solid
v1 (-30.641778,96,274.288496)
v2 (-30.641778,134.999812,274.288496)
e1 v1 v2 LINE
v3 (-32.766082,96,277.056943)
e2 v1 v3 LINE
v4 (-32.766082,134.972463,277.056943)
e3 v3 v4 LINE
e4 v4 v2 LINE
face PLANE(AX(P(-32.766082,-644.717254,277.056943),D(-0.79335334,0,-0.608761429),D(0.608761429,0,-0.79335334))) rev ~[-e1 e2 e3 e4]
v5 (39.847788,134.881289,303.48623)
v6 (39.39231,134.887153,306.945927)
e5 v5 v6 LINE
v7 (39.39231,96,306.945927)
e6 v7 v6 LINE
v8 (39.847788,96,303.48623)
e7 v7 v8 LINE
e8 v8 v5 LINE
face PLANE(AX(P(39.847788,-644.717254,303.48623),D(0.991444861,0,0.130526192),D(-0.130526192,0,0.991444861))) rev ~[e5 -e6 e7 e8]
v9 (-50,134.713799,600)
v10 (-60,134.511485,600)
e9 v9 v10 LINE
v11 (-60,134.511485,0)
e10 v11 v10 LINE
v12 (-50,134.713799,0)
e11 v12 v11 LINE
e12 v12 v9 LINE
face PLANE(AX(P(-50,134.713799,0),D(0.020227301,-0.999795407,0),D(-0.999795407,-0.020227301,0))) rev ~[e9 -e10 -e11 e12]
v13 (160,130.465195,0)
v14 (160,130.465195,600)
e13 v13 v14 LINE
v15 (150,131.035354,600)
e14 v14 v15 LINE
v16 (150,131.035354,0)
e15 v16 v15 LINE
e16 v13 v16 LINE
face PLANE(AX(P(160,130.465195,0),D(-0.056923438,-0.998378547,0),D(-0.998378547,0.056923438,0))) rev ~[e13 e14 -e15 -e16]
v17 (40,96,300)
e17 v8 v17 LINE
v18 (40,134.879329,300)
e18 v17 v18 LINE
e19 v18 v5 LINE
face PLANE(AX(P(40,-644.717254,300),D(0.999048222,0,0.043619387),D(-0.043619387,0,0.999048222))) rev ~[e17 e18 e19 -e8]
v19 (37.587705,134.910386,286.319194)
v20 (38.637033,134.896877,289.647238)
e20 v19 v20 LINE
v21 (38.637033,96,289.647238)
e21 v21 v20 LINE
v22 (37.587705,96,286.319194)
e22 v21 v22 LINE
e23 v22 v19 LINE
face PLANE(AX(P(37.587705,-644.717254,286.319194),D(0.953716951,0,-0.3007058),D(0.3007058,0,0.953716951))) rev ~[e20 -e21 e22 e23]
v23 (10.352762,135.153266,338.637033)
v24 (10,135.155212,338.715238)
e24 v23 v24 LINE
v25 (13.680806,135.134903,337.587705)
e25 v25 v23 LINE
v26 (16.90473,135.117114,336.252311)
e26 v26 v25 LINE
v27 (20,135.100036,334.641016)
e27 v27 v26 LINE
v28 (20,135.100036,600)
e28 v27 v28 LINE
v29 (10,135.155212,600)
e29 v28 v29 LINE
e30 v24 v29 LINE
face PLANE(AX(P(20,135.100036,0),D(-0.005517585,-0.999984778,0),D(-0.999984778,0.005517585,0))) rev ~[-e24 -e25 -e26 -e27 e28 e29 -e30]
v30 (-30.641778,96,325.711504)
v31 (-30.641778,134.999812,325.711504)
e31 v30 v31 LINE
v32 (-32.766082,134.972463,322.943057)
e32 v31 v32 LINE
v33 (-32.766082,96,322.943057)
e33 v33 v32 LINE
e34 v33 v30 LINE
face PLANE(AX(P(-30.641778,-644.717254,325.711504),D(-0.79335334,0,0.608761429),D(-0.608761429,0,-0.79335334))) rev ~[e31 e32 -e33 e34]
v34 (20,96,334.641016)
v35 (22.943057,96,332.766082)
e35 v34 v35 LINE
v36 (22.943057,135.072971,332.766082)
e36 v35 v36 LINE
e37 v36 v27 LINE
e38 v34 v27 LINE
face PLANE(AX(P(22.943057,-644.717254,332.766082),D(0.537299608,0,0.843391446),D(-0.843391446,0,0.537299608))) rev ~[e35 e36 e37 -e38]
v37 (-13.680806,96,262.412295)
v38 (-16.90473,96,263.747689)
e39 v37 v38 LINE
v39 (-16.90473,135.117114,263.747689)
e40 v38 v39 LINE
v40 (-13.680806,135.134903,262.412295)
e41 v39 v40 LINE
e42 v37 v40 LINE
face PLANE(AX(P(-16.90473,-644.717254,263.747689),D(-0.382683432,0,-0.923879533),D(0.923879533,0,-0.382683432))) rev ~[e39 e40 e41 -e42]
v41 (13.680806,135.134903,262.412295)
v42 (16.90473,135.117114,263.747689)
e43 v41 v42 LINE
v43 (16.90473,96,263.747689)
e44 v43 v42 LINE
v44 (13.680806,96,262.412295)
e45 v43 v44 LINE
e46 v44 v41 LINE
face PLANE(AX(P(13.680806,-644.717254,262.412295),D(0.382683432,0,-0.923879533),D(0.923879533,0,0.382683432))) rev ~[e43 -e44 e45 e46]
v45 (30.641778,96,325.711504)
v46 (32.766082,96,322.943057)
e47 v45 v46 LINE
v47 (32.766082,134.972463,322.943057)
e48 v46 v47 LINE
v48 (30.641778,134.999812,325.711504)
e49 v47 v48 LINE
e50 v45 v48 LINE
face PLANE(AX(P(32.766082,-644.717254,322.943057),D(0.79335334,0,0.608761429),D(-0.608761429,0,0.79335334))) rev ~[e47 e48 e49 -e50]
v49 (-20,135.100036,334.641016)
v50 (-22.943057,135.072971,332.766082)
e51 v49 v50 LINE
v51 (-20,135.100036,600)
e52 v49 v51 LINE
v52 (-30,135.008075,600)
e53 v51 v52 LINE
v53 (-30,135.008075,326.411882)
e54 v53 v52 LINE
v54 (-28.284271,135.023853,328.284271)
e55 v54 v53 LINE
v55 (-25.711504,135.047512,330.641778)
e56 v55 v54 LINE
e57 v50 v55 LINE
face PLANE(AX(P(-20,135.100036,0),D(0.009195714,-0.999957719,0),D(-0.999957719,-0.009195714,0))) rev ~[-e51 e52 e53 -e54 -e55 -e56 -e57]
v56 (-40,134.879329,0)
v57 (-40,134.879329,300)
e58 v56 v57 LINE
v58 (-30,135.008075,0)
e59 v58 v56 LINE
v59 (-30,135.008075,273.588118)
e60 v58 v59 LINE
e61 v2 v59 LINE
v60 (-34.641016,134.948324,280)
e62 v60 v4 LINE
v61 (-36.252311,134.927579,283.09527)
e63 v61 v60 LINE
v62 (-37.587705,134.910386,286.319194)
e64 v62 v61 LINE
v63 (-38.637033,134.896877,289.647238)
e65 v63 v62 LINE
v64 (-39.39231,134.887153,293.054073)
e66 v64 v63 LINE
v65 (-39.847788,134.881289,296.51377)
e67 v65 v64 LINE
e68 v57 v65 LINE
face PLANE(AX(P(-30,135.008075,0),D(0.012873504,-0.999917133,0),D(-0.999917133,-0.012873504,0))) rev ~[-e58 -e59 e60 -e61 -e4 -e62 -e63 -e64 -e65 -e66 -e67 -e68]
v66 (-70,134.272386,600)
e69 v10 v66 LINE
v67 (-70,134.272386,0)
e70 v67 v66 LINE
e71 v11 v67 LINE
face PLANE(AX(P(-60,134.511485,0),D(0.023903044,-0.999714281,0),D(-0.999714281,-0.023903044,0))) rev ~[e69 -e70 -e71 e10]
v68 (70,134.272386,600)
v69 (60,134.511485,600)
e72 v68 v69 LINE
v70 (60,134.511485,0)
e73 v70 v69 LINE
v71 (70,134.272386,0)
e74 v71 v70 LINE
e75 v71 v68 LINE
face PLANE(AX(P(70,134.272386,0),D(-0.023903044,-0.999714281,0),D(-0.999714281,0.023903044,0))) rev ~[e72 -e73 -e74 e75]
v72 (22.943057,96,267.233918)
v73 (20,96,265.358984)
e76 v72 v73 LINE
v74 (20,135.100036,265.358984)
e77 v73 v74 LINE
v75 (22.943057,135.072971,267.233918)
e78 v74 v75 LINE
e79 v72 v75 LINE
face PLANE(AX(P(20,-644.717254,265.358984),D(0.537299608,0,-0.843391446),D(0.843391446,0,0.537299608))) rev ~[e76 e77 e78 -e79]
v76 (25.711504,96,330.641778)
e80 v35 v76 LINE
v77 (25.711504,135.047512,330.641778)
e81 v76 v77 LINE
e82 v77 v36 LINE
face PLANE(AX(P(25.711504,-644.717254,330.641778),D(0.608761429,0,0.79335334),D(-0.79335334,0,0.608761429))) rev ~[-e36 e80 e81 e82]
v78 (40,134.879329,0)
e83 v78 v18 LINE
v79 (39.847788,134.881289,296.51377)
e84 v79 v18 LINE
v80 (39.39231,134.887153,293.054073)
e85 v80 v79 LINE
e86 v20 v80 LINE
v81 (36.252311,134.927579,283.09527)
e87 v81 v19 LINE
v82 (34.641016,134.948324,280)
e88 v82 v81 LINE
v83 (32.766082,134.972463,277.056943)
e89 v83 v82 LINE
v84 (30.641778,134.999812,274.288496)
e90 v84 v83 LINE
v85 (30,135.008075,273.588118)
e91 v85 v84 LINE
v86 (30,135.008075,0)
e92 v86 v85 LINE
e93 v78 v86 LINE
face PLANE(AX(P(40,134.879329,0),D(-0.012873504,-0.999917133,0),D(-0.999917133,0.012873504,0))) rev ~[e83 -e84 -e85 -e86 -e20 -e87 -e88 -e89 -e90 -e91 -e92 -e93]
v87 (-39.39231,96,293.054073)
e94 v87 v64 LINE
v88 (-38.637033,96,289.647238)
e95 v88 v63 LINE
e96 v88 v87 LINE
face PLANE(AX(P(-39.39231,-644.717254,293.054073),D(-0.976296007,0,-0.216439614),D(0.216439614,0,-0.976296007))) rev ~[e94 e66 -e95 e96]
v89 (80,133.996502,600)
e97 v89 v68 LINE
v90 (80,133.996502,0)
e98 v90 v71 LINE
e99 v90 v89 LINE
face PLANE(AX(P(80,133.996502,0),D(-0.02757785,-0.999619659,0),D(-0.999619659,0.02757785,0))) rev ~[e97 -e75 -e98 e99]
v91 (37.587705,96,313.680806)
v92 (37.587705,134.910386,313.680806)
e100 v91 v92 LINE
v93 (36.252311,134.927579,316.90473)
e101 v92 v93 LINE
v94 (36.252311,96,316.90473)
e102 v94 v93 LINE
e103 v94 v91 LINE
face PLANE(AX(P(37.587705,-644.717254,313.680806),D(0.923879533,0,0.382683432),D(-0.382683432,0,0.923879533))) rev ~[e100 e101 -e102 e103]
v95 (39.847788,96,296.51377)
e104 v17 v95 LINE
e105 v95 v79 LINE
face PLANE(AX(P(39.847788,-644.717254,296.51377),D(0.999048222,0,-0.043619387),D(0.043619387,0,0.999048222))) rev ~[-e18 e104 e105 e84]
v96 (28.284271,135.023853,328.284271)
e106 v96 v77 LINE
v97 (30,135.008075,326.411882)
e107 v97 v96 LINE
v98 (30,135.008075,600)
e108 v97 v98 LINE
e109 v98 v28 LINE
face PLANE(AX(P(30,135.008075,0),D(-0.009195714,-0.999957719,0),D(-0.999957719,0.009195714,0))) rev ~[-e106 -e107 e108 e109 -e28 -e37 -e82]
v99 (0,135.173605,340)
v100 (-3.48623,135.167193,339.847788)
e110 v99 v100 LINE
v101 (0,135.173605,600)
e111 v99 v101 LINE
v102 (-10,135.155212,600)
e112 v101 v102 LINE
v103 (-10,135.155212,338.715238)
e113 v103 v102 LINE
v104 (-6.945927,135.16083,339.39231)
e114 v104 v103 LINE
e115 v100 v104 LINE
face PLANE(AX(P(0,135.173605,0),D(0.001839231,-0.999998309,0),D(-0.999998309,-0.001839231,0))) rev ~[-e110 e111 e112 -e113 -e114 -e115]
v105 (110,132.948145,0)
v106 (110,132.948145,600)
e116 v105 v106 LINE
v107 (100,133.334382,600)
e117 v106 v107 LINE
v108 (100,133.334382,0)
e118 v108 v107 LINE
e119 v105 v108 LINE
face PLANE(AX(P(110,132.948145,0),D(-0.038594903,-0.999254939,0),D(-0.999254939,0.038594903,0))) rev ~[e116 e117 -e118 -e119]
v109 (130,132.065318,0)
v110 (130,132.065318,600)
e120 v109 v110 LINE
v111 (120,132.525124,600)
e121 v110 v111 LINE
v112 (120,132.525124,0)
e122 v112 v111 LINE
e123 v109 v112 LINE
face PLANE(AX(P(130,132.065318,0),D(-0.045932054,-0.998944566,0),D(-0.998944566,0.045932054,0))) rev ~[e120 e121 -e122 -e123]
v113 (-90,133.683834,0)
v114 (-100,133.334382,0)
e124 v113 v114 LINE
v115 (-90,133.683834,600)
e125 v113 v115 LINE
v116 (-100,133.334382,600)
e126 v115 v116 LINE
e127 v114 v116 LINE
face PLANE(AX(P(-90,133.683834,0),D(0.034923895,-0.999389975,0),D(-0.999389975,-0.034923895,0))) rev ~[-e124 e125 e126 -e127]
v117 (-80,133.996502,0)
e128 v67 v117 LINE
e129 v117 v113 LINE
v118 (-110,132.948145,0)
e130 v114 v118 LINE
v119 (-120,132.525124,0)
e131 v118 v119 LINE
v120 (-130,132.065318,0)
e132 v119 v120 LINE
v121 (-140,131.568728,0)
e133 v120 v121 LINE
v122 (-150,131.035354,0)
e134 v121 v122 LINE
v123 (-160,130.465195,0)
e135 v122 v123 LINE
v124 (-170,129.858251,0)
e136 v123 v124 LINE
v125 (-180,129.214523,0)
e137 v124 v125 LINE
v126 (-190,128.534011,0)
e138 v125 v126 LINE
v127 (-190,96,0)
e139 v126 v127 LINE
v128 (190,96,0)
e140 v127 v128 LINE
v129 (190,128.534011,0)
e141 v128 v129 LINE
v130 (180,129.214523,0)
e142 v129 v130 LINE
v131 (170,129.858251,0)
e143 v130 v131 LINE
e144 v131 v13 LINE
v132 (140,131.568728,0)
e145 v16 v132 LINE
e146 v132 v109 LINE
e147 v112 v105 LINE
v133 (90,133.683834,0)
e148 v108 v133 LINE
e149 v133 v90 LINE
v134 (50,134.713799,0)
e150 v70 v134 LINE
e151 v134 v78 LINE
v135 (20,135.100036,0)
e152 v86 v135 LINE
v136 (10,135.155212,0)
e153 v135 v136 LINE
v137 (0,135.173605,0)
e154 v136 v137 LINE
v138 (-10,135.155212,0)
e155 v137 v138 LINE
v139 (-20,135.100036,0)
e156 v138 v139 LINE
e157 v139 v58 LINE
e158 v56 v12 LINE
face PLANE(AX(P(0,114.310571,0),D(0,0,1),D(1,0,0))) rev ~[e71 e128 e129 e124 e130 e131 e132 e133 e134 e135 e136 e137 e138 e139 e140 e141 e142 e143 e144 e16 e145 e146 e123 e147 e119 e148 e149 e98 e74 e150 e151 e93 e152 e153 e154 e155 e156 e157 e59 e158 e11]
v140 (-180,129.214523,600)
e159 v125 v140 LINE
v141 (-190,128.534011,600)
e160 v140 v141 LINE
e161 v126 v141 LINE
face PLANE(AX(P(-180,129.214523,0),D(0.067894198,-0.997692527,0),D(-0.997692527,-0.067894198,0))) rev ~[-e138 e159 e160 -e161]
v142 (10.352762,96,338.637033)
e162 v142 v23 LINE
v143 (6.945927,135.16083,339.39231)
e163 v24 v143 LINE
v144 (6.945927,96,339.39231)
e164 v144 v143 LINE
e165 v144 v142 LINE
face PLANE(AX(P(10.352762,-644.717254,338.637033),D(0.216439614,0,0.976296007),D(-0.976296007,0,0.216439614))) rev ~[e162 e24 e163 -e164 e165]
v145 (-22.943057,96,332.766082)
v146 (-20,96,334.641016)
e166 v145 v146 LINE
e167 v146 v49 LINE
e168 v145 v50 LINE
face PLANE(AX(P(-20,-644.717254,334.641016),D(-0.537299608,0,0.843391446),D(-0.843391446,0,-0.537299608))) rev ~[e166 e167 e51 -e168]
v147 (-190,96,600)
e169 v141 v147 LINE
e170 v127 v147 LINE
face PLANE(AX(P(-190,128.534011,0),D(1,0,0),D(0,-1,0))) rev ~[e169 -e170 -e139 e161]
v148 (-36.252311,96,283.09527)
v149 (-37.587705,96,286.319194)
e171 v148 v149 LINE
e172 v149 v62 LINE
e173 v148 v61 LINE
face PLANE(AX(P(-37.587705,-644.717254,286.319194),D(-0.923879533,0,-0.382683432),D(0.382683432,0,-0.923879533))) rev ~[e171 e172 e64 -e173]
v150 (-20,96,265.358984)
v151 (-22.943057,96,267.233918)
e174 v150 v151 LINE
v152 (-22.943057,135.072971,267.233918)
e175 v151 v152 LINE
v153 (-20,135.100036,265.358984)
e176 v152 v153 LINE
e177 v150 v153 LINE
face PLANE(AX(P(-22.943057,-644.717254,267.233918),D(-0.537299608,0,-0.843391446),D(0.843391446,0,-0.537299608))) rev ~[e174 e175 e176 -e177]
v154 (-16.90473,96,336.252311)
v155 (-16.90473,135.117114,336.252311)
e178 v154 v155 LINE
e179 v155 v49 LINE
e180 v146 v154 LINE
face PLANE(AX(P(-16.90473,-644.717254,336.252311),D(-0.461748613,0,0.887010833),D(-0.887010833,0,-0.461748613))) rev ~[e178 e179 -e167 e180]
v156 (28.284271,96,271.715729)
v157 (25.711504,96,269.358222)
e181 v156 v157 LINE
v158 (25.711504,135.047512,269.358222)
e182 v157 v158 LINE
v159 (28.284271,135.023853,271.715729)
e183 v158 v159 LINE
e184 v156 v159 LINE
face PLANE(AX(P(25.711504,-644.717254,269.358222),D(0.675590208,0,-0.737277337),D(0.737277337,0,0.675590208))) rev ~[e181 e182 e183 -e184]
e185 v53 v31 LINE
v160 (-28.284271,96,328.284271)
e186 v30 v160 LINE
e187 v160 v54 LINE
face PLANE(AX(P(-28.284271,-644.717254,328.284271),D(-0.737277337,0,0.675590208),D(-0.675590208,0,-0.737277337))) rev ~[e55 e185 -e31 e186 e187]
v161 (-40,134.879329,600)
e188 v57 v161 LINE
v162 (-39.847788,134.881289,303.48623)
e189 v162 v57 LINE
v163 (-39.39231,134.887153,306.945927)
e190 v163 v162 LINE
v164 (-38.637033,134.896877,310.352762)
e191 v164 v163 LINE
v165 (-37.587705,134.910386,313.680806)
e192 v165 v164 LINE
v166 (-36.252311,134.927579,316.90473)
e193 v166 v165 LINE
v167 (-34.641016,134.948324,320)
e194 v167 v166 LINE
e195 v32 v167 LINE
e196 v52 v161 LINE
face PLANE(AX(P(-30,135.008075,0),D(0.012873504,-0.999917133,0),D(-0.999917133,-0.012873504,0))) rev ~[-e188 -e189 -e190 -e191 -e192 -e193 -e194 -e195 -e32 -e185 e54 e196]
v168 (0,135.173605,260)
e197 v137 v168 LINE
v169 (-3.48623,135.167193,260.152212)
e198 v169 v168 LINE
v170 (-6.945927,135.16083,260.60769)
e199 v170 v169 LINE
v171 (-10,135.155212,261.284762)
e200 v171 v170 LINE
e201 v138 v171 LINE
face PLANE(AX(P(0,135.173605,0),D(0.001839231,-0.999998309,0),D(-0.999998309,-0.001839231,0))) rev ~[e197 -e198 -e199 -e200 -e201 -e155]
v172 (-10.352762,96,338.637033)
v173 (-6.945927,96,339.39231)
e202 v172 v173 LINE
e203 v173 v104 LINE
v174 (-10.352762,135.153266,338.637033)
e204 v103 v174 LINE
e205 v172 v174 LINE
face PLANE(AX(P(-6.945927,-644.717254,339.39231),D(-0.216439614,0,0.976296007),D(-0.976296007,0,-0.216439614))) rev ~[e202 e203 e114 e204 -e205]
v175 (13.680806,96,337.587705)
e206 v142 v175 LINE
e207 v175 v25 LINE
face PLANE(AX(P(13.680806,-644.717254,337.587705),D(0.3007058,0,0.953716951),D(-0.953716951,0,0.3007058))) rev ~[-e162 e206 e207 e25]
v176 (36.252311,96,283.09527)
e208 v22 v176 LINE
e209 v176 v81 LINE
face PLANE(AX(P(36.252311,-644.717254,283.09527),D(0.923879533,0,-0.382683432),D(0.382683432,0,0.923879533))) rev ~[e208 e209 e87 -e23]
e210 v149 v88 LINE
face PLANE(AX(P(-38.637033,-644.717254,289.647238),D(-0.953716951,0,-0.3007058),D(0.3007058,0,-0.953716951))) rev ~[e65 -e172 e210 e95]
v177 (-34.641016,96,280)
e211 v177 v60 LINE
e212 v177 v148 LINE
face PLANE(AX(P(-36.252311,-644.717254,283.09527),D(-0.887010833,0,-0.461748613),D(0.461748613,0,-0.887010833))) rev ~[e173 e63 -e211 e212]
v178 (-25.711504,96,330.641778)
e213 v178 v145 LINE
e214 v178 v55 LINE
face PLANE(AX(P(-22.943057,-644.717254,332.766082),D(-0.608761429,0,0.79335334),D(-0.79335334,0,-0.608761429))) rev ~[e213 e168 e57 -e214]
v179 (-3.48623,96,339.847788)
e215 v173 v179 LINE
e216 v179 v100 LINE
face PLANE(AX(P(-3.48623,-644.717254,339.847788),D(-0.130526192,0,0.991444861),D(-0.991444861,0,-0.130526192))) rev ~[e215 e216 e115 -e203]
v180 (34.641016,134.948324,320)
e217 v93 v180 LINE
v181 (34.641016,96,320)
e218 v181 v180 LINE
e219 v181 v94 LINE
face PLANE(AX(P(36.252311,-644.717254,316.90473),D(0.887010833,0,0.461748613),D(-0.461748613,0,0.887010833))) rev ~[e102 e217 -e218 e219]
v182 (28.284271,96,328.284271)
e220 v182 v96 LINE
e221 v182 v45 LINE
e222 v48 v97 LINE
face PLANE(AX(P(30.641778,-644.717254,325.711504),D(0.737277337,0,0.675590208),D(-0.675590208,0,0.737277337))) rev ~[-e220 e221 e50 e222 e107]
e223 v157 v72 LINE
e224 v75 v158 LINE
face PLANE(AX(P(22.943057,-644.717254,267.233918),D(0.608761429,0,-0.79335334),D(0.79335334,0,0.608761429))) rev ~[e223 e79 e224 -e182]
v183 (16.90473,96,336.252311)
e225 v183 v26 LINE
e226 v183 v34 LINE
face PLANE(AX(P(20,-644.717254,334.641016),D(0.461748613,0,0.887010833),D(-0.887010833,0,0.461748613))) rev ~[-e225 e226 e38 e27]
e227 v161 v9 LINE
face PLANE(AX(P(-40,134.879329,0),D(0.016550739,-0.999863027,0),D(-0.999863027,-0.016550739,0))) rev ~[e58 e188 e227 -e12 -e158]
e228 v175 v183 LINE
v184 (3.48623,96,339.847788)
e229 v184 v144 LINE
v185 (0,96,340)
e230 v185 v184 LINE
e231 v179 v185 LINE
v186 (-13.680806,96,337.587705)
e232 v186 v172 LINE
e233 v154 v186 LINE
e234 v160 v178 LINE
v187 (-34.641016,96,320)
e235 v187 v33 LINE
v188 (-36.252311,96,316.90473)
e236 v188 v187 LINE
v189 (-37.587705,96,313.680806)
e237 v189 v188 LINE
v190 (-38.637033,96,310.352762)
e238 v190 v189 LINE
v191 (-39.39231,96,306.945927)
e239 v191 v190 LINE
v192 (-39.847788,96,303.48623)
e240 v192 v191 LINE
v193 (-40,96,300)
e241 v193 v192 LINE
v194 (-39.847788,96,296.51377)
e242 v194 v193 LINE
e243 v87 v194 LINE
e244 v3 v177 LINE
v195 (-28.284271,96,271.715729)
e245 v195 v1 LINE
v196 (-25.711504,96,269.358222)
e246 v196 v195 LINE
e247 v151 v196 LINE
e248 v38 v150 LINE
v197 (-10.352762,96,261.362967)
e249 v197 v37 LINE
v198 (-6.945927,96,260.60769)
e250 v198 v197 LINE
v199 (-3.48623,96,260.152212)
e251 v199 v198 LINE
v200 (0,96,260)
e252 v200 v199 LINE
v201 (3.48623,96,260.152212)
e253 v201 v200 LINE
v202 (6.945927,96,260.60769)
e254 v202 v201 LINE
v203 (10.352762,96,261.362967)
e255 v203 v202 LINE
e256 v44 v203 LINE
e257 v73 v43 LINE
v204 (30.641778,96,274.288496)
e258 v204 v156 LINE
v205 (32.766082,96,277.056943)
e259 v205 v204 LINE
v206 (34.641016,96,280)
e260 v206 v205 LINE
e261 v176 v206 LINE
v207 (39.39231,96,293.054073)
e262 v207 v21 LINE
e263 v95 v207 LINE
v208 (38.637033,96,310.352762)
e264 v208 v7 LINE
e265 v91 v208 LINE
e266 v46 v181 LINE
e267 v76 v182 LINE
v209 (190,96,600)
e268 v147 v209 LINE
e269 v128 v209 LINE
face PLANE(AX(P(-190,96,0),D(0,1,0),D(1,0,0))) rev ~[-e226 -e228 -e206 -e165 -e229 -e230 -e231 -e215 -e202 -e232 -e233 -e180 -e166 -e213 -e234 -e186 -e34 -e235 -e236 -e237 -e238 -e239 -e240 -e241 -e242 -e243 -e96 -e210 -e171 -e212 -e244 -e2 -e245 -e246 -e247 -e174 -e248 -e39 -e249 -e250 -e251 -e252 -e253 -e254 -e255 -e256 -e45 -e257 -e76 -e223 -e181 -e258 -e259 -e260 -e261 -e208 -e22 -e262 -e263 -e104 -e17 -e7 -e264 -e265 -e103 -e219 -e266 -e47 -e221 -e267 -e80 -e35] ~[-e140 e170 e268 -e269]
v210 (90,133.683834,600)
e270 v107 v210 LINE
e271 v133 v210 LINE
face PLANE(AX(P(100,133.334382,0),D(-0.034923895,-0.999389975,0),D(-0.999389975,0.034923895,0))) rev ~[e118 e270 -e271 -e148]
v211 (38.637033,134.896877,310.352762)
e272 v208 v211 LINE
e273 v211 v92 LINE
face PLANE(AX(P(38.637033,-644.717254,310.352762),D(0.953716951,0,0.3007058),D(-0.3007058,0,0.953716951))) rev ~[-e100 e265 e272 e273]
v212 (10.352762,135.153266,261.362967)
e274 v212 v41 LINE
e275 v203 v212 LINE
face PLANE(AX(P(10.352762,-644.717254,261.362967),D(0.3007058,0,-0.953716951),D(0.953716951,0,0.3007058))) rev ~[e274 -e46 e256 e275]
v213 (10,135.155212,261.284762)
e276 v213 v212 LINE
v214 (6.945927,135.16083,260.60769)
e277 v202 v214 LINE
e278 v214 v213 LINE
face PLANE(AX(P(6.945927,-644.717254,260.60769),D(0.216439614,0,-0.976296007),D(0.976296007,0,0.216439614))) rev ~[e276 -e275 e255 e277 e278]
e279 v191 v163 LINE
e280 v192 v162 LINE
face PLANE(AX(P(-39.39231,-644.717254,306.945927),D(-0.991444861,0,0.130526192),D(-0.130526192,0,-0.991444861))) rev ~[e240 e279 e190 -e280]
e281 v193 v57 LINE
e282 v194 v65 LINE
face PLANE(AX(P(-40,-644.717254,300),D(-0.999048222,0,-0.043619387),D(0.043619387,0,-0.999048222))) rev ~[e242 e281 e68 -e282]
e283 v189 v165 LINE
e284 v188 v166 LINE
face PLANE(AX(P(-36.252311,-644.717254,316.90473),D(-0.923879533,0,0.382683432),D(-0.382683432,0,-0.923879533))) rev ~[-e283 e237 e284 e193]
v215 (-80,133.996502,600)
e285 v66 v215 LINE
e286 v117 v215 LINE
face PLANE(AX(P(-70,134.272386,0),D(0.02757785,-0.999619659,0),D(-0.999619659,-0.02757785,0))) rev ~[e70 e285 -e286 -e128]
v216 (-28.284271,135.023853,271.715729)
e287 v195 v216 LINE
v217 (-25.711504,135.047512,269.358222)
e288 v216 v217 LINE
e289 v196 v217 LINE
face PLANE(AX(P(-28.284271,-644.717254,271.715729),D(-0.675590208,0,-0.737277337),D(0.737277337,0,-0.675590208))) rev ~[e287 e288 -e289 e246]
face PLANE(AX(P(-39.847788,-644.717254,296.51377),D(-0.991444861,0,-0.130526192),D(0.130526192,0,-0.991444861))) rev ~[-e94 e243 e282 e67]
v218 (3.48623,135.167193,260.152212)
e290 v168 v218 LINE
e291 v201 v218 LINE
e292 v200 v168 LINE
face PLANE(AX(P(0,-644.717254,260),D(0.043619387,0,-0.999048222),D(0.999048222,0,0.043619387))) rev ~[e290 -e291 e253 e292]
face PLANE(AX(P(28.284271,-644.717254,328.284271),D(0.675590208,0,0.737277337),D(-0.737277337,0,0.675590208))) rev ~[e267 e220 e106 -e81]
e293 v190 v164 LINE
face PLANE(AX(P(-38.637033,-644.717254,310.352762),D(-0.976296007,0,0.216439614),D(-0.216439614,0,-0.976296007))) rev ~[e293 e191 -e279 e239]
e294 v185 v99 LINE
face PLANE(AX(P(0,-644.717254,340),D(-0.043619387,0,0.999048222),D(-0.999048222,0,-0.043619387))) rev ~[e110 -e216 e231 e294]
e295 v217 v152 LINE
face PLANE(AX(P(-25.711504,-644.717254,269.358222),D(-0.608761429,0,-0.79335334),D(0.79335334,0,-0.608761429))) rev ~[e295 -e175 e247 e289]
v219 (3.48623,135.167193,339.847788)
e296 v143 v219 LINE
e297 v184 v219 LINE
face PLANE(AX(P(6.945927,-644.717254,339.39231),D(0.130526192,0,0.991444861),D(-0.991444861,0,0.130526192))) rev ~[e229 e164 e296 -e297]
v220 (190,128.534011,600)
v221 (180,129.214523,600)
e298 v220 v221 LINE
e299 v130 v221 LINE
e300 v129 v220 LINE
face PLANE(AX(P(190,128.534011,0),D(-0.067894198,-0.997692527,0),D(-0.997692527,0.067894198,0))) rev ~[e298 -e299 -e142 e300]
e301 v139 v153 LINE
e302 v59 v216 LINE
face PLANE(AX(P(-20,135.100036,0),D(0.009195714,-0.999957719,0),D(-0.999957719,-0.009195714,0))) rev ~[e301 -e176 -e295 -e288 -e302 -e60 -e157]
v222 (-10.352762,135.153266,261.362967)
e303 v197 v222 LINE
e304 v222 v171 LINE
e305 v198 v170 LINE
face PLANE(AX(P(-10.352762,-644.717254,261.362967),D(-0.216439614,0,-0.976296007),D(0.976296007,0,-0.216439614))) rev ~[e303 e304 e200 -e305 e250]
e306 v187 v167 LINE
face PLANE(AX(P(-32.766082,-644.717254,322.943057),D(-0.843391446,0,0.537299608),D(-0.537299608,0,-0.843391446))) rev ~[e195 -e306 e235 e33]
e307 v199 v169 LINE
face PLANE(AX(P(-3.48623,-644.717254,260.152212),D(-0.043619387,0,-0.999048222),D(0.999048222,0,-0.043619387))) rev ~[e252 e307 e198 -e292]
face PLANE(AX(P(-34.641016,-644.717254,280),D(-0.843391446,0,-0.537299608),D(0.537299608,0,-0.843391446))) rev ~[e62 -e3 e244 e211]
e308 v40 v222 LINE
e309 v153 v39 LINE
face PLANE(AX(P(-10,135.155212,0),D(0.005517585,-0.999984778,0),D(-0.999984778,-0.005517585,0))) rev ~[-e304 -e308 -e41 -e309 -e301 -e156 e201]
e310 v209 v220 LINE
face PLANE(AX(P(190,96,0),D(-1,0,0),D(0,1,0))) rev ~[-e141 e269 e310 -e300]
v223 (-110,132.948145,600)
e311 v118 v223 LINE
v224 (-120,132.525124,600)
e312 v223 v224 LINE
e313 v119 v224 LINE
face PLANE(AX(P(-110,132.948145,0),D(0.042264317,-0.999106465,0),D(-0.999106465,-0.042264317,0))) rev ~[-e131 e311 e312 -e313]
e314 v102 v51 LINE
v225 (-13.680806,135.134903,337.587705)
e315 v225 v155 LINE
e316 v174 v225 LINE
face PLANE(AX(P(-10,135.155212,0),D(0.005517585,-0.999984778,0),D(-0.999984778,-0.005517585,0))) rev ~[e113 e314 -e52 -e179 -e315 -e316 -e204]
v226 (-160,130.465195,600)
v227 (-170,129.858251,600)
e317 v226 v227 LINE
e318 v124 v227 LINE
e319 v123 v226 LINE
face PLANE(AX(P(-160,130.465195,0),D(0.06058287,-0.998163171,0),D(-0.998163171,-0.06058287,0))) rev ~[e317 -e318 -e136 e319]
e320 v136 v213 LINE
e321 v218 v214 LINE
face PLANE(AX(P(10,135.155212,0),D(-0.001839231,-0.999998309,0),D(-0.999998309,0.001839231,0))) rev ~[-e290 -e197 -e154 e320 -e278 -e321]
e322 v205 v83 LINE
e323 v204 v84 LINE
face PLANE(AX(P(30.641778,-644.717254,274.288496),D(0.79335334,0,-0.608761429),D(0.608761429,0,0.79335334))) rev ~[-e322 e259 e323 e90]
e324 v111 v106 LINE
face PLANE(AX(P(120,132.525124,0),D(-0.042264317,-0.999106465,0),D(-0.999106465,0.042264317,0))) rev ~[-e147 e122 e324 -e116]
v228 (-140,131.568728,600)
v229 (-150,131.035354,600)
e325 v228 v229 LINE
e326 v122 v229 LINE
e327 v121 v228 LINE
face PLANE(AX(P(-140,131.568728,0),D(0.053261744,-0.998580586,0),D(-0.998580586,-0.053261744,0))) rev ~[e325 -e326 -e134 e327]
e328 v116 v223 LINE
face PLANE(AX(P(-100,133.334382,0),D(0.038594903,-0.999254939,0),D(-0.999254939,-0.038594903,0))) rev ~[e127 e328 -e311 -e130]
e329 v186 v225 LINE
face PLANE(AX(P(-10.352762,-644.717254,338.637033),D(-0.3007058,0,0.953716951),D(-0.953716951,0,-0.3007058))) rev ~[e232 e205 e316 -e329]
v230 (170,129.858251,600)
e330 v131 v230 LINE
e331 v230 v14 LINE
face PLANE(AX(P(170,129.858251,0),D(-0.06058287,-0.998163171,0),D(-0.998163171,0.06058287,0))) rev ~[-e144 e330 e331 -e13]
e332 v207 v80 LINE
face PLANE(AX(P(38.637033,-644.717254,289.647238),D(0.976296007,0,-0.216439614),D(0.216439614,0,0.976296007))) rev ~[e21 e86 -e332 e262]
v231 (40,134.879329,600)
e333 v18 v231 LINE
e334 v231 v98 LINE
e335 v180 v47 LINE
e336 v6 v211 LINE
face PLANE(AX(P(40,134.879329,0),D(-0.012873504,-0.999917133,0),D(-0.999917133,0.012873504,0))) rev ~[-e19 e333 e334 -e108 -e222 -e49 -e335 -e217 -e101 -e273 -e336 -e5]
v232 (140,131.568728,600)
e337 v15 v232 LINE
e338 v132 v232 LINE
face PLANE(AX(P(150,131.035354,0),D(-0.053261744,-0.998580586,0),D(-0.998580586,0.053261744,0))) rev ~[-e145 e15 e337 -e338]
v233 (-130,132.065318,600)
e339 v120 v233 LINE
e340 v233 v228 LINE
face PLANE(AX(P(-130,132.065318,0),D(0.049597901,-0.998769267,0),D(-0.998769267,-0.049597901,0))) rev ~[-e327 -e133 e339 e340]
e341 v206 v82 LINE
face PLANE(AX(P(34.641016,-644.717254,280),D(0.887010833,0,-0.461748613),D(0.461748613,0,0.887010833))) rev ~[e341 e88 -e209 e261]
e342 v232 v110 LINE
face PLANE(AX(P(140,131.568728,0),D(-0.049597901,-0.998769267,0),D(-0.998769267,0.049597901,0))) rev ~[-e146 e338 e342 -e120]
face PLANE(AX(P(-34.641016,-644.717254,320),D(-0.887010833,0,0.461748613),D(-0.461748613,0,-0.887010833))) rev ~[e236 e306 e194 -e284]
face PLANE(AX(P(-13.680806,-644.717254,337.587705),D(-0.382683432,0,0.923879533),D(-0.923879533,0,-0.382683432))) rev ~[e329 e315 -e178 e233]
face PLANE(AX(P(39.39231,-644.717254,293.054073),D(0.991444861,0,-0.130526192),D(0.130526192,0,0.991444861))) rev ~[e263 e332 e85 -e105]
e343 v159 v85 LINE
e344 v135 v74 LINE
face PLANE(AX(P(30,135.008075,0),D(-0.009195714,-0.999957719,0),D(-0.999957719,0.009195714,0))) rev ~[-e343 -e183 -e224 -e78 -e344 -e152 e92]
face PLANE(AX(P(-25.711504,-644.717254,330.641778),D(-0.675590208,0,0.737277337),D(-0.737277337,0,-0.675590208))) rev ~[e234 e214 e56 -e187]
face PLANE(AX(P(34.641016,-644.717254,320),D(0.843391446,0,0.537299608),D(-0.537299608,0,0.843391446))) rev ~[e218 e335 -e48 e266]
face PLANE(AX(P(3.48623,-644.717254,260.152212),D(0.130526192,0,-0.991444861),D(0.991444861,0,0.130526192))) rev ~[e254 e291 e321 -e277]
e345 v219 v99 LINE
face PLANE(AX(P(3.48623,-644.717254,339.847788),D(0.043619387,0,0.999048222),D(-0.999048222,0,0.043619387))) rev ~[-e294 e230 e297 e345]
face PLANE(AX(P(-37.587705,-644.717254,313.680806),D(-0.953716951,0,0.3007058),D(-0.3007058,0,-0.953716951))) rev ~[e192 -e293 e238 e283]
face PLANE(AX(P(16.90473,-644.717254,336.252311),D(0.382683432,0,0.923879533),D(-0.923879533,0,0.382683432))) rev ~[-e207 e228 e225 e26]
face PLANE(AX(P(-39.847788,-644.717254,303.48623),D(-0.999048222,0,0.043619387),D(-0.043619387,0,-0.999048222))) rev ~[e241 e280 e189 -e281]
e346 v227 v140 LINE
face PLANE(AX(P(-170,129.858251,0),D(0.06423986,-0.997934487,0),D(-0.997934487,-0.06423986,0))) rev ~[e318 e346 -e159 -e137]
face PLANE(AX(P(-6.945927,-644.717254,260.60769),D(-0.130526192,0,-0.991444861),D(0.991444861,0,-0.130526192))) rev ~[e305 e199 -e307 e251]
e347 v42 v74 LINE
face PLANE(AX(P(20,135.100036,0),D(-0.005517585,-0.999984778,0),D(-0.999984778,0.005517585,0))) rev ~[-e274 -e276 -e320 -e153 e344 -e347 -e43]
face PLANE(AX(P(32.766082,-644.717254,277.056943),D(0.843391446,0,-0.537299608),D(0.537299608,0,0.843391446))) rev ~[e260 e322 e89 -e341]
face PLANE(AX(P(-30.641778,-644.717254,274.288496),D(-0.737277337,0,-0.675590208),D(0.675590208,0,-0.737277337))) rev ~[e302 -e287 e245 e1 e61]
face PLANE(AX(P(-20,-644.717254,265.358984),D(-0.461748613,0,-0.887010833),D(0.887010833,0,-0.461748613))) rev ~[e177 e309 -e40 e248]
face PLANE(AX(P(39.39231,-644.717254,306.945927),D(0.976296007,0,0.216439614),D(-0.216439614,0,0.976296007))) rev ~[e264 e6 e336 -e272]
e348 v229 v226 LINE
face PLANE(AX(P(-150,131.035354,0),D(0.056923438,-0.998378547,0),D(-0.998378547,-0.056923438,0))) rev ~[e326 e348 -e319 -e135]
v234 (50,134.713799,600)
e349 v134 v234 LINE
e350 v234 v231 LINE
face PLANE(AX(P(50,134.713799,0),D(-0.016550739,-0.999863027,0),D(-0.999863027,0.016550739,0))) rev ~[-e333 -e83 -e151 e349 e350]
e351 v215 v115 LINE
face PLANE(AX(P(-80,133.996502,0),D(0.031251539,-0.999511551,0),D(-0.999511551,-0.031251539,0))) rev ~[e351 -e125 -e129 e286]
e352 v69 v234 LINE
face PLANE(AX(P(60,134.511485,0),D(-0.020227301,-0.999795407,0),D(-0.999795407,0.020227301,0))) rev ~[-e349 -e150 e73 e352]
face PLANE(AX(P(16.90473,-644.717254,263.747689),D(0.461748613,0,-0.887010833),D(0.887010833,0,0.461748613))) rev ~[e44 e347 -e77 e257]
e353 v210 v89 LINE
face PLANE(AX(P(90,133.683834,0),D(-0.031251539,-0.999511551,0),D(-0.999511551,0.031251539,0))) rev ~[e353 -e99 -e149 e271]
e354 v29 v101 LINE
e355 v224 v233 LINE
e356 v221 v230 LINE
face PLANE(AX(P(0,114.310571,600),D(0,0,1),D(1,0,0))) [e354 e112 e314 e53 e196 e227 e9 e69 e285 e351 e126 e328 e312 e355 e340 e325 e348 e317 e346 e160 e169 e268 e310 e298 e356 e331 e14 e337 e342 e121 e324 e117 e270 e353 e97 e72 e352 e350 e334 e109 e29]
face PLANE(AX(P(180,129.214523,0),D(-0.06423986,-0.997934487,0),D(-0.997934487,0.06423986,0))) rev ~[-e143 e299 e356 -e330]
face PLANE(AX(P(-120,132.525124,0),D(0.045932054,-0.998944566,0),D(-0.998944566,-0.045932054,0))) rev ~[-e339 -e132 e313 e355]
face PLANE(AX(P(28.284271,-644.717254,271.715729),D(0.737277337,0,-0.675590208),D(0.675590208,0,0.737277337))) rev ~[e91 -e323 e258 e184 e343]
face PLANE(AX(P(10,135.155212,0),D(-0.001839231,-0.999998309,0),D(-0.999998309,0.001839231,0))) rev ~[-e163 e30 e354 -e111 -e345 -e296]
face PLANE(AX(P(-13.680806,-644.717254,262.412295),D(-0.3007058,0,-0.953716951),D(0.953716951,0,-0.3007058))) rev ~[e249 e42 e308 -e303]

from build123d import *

# Parameters (mm, degrees)
ARCHED_FLOAT_DEPTH             = 600
TETHER_PASS_THROUGH_DEPTH      = 644.717254264
TETHER_PASS_THROUGH_DEPTH_BACK = 644.717254264


with BuildPart() as part:
    # 草图1 → Arched_float (new body)
    with BuildSketch(Plane.XY):
        Polygon((-190, 96), (190, 96), (190, 128.534010774), (180, 129.214523018), (170, 129.858251246), (160, 130.465194796), (150, 131.035353667), (140, 131.568728191), (130, 132.065318368), (120, 132.525124198), (110, 132.948145349), (100, 133.334382153), (90, 133.683834279), (80, 133.996502389), (70, 134.272385821), (60, 134.511484574), (50, 134.71379898), (40, 134.879329039), (30, 135.008074751), (20, 135.100035784), (10, 135.15521247), (0, 135.17360481), (-10, 135.15521247), (-20, 135.100035784), (-30, 135.008074751), (-40, 134.879329039), (-50, 134.71379898), (-60, 134.511484574), (-70, 134.272385821), (-80, 133.996502389), (-90, 133.683834279), (-100, 133.334382153), (-110, 132.948145349), (-120, 132.525124198), (-130, 132.065318368), (-140, 131.568728191), (-150, 131.035353667), (-160, 130.465194796), (-170, 129.858251246), (-180, 129.214523018), (-190, 128.534010774), align=None)
    extrude(amount=ARCHED_FLOAT_DEPTH)

    # 草图2 → Tether_pass_through (cut, two sides: drawn at the far end of the back side and taken through both)
    with BuildSketch(Plane(origin=(0, 0, 0), x_dir=(1, 0, 0), z_dir=(0, 1, 0)).offset(-TETHER_PASS_THROUGH_DEPTH_BACK)):
        Polygon((40, -300), (39.847787924, -303.48622971), (39.39231012, -306.945927107), (38.637033052, -310.352761804), (37.587704831, -313.680805733), (36.252311481, -316.90473047), (34.641016151, -320), (32.766081772, -322.943057454), (30.641777725, -325.711504387), (28.284271247, -328.284271247), (25.711504387, -330.641777725), (22.943057454, -332.766081772), (20, -334.641016151), (16.90473047, -336.252311481), (13.680805733, -337.587704831), (10.352761804, -338.637033052), (6.945927107, -339.39231012), (3.48622971, -339.847787924), (0, -340), (-3.48622971, -339.847787924), (-6.945927107, -339.39231012), (-10.352761804, -338.637033052), (-13.680805733, -337.587704831), (-16.90473047, -336.252311481), (-20, -334.641016151), (-22.943057454, -332.766081772), (-25.711504387, -330.641777725), (-28.284271247, -328.284271247), (-30.641777725, -325.711504387), (-32.766081772, -322.943057454), (-34.641016151, -320), (-36.252311481, -316.90473047), (-37.587704831, -313.680805733), (-38.637033052, -310.352761804), (-39.39231012, -306.945927107), (-39.847787924, -303.48622971), (-40, -300), (-39.847787924, -296.51377029), (-39.39231012, -293.054072893), (-38.637033052, -289.647238196), (-37.587704831, -286.319194267), (-36.252311481, -283.09526953), (-34.641016151, -280), (-32.766081772, -277.056942546), (-30.641777725, -274.288495613), (-28.284271247, -271.715728753), (-25.711504387, -269.358222275), (-22.943057454, -267.233918228), (-20, -265.358983849), (-16.90473047, -263.747688519), (-13.680805733, -262.412295169), (-10.352761804, -261.362966948), (-6.945927107, -260.60768988), (-3.48622971, -260.152212076), (0, -260), (3.48622971, -260.152212076), (6.945927107, -260.60768988), (10.352761804, -261.362966948), (13.680805733, -262.412295169), (16.90473047, -263.747688519), (20, -265.358983849), (22.943057454, -267.233918228), (25.711504387, -269.358222275), (28.284271247, -271.715728753), (30.641777725, -274.288495613), (32.766081772, -277.056942546), (34.641016151, -280), (36.252311481, -283.09526953), (37.587704831, -286.319194267), (38.637033052, -289.647238196), (39.39231012, -293.054072893), (39.847787924, -296.51377029), align=None)
    extrude(amount=TETHER_PASS_THROUGH_DEPTH + TETHER_PASS_THROUGH_DEPTH_BACK, mode=Mode.SUBTRACT)


solid = part.part
